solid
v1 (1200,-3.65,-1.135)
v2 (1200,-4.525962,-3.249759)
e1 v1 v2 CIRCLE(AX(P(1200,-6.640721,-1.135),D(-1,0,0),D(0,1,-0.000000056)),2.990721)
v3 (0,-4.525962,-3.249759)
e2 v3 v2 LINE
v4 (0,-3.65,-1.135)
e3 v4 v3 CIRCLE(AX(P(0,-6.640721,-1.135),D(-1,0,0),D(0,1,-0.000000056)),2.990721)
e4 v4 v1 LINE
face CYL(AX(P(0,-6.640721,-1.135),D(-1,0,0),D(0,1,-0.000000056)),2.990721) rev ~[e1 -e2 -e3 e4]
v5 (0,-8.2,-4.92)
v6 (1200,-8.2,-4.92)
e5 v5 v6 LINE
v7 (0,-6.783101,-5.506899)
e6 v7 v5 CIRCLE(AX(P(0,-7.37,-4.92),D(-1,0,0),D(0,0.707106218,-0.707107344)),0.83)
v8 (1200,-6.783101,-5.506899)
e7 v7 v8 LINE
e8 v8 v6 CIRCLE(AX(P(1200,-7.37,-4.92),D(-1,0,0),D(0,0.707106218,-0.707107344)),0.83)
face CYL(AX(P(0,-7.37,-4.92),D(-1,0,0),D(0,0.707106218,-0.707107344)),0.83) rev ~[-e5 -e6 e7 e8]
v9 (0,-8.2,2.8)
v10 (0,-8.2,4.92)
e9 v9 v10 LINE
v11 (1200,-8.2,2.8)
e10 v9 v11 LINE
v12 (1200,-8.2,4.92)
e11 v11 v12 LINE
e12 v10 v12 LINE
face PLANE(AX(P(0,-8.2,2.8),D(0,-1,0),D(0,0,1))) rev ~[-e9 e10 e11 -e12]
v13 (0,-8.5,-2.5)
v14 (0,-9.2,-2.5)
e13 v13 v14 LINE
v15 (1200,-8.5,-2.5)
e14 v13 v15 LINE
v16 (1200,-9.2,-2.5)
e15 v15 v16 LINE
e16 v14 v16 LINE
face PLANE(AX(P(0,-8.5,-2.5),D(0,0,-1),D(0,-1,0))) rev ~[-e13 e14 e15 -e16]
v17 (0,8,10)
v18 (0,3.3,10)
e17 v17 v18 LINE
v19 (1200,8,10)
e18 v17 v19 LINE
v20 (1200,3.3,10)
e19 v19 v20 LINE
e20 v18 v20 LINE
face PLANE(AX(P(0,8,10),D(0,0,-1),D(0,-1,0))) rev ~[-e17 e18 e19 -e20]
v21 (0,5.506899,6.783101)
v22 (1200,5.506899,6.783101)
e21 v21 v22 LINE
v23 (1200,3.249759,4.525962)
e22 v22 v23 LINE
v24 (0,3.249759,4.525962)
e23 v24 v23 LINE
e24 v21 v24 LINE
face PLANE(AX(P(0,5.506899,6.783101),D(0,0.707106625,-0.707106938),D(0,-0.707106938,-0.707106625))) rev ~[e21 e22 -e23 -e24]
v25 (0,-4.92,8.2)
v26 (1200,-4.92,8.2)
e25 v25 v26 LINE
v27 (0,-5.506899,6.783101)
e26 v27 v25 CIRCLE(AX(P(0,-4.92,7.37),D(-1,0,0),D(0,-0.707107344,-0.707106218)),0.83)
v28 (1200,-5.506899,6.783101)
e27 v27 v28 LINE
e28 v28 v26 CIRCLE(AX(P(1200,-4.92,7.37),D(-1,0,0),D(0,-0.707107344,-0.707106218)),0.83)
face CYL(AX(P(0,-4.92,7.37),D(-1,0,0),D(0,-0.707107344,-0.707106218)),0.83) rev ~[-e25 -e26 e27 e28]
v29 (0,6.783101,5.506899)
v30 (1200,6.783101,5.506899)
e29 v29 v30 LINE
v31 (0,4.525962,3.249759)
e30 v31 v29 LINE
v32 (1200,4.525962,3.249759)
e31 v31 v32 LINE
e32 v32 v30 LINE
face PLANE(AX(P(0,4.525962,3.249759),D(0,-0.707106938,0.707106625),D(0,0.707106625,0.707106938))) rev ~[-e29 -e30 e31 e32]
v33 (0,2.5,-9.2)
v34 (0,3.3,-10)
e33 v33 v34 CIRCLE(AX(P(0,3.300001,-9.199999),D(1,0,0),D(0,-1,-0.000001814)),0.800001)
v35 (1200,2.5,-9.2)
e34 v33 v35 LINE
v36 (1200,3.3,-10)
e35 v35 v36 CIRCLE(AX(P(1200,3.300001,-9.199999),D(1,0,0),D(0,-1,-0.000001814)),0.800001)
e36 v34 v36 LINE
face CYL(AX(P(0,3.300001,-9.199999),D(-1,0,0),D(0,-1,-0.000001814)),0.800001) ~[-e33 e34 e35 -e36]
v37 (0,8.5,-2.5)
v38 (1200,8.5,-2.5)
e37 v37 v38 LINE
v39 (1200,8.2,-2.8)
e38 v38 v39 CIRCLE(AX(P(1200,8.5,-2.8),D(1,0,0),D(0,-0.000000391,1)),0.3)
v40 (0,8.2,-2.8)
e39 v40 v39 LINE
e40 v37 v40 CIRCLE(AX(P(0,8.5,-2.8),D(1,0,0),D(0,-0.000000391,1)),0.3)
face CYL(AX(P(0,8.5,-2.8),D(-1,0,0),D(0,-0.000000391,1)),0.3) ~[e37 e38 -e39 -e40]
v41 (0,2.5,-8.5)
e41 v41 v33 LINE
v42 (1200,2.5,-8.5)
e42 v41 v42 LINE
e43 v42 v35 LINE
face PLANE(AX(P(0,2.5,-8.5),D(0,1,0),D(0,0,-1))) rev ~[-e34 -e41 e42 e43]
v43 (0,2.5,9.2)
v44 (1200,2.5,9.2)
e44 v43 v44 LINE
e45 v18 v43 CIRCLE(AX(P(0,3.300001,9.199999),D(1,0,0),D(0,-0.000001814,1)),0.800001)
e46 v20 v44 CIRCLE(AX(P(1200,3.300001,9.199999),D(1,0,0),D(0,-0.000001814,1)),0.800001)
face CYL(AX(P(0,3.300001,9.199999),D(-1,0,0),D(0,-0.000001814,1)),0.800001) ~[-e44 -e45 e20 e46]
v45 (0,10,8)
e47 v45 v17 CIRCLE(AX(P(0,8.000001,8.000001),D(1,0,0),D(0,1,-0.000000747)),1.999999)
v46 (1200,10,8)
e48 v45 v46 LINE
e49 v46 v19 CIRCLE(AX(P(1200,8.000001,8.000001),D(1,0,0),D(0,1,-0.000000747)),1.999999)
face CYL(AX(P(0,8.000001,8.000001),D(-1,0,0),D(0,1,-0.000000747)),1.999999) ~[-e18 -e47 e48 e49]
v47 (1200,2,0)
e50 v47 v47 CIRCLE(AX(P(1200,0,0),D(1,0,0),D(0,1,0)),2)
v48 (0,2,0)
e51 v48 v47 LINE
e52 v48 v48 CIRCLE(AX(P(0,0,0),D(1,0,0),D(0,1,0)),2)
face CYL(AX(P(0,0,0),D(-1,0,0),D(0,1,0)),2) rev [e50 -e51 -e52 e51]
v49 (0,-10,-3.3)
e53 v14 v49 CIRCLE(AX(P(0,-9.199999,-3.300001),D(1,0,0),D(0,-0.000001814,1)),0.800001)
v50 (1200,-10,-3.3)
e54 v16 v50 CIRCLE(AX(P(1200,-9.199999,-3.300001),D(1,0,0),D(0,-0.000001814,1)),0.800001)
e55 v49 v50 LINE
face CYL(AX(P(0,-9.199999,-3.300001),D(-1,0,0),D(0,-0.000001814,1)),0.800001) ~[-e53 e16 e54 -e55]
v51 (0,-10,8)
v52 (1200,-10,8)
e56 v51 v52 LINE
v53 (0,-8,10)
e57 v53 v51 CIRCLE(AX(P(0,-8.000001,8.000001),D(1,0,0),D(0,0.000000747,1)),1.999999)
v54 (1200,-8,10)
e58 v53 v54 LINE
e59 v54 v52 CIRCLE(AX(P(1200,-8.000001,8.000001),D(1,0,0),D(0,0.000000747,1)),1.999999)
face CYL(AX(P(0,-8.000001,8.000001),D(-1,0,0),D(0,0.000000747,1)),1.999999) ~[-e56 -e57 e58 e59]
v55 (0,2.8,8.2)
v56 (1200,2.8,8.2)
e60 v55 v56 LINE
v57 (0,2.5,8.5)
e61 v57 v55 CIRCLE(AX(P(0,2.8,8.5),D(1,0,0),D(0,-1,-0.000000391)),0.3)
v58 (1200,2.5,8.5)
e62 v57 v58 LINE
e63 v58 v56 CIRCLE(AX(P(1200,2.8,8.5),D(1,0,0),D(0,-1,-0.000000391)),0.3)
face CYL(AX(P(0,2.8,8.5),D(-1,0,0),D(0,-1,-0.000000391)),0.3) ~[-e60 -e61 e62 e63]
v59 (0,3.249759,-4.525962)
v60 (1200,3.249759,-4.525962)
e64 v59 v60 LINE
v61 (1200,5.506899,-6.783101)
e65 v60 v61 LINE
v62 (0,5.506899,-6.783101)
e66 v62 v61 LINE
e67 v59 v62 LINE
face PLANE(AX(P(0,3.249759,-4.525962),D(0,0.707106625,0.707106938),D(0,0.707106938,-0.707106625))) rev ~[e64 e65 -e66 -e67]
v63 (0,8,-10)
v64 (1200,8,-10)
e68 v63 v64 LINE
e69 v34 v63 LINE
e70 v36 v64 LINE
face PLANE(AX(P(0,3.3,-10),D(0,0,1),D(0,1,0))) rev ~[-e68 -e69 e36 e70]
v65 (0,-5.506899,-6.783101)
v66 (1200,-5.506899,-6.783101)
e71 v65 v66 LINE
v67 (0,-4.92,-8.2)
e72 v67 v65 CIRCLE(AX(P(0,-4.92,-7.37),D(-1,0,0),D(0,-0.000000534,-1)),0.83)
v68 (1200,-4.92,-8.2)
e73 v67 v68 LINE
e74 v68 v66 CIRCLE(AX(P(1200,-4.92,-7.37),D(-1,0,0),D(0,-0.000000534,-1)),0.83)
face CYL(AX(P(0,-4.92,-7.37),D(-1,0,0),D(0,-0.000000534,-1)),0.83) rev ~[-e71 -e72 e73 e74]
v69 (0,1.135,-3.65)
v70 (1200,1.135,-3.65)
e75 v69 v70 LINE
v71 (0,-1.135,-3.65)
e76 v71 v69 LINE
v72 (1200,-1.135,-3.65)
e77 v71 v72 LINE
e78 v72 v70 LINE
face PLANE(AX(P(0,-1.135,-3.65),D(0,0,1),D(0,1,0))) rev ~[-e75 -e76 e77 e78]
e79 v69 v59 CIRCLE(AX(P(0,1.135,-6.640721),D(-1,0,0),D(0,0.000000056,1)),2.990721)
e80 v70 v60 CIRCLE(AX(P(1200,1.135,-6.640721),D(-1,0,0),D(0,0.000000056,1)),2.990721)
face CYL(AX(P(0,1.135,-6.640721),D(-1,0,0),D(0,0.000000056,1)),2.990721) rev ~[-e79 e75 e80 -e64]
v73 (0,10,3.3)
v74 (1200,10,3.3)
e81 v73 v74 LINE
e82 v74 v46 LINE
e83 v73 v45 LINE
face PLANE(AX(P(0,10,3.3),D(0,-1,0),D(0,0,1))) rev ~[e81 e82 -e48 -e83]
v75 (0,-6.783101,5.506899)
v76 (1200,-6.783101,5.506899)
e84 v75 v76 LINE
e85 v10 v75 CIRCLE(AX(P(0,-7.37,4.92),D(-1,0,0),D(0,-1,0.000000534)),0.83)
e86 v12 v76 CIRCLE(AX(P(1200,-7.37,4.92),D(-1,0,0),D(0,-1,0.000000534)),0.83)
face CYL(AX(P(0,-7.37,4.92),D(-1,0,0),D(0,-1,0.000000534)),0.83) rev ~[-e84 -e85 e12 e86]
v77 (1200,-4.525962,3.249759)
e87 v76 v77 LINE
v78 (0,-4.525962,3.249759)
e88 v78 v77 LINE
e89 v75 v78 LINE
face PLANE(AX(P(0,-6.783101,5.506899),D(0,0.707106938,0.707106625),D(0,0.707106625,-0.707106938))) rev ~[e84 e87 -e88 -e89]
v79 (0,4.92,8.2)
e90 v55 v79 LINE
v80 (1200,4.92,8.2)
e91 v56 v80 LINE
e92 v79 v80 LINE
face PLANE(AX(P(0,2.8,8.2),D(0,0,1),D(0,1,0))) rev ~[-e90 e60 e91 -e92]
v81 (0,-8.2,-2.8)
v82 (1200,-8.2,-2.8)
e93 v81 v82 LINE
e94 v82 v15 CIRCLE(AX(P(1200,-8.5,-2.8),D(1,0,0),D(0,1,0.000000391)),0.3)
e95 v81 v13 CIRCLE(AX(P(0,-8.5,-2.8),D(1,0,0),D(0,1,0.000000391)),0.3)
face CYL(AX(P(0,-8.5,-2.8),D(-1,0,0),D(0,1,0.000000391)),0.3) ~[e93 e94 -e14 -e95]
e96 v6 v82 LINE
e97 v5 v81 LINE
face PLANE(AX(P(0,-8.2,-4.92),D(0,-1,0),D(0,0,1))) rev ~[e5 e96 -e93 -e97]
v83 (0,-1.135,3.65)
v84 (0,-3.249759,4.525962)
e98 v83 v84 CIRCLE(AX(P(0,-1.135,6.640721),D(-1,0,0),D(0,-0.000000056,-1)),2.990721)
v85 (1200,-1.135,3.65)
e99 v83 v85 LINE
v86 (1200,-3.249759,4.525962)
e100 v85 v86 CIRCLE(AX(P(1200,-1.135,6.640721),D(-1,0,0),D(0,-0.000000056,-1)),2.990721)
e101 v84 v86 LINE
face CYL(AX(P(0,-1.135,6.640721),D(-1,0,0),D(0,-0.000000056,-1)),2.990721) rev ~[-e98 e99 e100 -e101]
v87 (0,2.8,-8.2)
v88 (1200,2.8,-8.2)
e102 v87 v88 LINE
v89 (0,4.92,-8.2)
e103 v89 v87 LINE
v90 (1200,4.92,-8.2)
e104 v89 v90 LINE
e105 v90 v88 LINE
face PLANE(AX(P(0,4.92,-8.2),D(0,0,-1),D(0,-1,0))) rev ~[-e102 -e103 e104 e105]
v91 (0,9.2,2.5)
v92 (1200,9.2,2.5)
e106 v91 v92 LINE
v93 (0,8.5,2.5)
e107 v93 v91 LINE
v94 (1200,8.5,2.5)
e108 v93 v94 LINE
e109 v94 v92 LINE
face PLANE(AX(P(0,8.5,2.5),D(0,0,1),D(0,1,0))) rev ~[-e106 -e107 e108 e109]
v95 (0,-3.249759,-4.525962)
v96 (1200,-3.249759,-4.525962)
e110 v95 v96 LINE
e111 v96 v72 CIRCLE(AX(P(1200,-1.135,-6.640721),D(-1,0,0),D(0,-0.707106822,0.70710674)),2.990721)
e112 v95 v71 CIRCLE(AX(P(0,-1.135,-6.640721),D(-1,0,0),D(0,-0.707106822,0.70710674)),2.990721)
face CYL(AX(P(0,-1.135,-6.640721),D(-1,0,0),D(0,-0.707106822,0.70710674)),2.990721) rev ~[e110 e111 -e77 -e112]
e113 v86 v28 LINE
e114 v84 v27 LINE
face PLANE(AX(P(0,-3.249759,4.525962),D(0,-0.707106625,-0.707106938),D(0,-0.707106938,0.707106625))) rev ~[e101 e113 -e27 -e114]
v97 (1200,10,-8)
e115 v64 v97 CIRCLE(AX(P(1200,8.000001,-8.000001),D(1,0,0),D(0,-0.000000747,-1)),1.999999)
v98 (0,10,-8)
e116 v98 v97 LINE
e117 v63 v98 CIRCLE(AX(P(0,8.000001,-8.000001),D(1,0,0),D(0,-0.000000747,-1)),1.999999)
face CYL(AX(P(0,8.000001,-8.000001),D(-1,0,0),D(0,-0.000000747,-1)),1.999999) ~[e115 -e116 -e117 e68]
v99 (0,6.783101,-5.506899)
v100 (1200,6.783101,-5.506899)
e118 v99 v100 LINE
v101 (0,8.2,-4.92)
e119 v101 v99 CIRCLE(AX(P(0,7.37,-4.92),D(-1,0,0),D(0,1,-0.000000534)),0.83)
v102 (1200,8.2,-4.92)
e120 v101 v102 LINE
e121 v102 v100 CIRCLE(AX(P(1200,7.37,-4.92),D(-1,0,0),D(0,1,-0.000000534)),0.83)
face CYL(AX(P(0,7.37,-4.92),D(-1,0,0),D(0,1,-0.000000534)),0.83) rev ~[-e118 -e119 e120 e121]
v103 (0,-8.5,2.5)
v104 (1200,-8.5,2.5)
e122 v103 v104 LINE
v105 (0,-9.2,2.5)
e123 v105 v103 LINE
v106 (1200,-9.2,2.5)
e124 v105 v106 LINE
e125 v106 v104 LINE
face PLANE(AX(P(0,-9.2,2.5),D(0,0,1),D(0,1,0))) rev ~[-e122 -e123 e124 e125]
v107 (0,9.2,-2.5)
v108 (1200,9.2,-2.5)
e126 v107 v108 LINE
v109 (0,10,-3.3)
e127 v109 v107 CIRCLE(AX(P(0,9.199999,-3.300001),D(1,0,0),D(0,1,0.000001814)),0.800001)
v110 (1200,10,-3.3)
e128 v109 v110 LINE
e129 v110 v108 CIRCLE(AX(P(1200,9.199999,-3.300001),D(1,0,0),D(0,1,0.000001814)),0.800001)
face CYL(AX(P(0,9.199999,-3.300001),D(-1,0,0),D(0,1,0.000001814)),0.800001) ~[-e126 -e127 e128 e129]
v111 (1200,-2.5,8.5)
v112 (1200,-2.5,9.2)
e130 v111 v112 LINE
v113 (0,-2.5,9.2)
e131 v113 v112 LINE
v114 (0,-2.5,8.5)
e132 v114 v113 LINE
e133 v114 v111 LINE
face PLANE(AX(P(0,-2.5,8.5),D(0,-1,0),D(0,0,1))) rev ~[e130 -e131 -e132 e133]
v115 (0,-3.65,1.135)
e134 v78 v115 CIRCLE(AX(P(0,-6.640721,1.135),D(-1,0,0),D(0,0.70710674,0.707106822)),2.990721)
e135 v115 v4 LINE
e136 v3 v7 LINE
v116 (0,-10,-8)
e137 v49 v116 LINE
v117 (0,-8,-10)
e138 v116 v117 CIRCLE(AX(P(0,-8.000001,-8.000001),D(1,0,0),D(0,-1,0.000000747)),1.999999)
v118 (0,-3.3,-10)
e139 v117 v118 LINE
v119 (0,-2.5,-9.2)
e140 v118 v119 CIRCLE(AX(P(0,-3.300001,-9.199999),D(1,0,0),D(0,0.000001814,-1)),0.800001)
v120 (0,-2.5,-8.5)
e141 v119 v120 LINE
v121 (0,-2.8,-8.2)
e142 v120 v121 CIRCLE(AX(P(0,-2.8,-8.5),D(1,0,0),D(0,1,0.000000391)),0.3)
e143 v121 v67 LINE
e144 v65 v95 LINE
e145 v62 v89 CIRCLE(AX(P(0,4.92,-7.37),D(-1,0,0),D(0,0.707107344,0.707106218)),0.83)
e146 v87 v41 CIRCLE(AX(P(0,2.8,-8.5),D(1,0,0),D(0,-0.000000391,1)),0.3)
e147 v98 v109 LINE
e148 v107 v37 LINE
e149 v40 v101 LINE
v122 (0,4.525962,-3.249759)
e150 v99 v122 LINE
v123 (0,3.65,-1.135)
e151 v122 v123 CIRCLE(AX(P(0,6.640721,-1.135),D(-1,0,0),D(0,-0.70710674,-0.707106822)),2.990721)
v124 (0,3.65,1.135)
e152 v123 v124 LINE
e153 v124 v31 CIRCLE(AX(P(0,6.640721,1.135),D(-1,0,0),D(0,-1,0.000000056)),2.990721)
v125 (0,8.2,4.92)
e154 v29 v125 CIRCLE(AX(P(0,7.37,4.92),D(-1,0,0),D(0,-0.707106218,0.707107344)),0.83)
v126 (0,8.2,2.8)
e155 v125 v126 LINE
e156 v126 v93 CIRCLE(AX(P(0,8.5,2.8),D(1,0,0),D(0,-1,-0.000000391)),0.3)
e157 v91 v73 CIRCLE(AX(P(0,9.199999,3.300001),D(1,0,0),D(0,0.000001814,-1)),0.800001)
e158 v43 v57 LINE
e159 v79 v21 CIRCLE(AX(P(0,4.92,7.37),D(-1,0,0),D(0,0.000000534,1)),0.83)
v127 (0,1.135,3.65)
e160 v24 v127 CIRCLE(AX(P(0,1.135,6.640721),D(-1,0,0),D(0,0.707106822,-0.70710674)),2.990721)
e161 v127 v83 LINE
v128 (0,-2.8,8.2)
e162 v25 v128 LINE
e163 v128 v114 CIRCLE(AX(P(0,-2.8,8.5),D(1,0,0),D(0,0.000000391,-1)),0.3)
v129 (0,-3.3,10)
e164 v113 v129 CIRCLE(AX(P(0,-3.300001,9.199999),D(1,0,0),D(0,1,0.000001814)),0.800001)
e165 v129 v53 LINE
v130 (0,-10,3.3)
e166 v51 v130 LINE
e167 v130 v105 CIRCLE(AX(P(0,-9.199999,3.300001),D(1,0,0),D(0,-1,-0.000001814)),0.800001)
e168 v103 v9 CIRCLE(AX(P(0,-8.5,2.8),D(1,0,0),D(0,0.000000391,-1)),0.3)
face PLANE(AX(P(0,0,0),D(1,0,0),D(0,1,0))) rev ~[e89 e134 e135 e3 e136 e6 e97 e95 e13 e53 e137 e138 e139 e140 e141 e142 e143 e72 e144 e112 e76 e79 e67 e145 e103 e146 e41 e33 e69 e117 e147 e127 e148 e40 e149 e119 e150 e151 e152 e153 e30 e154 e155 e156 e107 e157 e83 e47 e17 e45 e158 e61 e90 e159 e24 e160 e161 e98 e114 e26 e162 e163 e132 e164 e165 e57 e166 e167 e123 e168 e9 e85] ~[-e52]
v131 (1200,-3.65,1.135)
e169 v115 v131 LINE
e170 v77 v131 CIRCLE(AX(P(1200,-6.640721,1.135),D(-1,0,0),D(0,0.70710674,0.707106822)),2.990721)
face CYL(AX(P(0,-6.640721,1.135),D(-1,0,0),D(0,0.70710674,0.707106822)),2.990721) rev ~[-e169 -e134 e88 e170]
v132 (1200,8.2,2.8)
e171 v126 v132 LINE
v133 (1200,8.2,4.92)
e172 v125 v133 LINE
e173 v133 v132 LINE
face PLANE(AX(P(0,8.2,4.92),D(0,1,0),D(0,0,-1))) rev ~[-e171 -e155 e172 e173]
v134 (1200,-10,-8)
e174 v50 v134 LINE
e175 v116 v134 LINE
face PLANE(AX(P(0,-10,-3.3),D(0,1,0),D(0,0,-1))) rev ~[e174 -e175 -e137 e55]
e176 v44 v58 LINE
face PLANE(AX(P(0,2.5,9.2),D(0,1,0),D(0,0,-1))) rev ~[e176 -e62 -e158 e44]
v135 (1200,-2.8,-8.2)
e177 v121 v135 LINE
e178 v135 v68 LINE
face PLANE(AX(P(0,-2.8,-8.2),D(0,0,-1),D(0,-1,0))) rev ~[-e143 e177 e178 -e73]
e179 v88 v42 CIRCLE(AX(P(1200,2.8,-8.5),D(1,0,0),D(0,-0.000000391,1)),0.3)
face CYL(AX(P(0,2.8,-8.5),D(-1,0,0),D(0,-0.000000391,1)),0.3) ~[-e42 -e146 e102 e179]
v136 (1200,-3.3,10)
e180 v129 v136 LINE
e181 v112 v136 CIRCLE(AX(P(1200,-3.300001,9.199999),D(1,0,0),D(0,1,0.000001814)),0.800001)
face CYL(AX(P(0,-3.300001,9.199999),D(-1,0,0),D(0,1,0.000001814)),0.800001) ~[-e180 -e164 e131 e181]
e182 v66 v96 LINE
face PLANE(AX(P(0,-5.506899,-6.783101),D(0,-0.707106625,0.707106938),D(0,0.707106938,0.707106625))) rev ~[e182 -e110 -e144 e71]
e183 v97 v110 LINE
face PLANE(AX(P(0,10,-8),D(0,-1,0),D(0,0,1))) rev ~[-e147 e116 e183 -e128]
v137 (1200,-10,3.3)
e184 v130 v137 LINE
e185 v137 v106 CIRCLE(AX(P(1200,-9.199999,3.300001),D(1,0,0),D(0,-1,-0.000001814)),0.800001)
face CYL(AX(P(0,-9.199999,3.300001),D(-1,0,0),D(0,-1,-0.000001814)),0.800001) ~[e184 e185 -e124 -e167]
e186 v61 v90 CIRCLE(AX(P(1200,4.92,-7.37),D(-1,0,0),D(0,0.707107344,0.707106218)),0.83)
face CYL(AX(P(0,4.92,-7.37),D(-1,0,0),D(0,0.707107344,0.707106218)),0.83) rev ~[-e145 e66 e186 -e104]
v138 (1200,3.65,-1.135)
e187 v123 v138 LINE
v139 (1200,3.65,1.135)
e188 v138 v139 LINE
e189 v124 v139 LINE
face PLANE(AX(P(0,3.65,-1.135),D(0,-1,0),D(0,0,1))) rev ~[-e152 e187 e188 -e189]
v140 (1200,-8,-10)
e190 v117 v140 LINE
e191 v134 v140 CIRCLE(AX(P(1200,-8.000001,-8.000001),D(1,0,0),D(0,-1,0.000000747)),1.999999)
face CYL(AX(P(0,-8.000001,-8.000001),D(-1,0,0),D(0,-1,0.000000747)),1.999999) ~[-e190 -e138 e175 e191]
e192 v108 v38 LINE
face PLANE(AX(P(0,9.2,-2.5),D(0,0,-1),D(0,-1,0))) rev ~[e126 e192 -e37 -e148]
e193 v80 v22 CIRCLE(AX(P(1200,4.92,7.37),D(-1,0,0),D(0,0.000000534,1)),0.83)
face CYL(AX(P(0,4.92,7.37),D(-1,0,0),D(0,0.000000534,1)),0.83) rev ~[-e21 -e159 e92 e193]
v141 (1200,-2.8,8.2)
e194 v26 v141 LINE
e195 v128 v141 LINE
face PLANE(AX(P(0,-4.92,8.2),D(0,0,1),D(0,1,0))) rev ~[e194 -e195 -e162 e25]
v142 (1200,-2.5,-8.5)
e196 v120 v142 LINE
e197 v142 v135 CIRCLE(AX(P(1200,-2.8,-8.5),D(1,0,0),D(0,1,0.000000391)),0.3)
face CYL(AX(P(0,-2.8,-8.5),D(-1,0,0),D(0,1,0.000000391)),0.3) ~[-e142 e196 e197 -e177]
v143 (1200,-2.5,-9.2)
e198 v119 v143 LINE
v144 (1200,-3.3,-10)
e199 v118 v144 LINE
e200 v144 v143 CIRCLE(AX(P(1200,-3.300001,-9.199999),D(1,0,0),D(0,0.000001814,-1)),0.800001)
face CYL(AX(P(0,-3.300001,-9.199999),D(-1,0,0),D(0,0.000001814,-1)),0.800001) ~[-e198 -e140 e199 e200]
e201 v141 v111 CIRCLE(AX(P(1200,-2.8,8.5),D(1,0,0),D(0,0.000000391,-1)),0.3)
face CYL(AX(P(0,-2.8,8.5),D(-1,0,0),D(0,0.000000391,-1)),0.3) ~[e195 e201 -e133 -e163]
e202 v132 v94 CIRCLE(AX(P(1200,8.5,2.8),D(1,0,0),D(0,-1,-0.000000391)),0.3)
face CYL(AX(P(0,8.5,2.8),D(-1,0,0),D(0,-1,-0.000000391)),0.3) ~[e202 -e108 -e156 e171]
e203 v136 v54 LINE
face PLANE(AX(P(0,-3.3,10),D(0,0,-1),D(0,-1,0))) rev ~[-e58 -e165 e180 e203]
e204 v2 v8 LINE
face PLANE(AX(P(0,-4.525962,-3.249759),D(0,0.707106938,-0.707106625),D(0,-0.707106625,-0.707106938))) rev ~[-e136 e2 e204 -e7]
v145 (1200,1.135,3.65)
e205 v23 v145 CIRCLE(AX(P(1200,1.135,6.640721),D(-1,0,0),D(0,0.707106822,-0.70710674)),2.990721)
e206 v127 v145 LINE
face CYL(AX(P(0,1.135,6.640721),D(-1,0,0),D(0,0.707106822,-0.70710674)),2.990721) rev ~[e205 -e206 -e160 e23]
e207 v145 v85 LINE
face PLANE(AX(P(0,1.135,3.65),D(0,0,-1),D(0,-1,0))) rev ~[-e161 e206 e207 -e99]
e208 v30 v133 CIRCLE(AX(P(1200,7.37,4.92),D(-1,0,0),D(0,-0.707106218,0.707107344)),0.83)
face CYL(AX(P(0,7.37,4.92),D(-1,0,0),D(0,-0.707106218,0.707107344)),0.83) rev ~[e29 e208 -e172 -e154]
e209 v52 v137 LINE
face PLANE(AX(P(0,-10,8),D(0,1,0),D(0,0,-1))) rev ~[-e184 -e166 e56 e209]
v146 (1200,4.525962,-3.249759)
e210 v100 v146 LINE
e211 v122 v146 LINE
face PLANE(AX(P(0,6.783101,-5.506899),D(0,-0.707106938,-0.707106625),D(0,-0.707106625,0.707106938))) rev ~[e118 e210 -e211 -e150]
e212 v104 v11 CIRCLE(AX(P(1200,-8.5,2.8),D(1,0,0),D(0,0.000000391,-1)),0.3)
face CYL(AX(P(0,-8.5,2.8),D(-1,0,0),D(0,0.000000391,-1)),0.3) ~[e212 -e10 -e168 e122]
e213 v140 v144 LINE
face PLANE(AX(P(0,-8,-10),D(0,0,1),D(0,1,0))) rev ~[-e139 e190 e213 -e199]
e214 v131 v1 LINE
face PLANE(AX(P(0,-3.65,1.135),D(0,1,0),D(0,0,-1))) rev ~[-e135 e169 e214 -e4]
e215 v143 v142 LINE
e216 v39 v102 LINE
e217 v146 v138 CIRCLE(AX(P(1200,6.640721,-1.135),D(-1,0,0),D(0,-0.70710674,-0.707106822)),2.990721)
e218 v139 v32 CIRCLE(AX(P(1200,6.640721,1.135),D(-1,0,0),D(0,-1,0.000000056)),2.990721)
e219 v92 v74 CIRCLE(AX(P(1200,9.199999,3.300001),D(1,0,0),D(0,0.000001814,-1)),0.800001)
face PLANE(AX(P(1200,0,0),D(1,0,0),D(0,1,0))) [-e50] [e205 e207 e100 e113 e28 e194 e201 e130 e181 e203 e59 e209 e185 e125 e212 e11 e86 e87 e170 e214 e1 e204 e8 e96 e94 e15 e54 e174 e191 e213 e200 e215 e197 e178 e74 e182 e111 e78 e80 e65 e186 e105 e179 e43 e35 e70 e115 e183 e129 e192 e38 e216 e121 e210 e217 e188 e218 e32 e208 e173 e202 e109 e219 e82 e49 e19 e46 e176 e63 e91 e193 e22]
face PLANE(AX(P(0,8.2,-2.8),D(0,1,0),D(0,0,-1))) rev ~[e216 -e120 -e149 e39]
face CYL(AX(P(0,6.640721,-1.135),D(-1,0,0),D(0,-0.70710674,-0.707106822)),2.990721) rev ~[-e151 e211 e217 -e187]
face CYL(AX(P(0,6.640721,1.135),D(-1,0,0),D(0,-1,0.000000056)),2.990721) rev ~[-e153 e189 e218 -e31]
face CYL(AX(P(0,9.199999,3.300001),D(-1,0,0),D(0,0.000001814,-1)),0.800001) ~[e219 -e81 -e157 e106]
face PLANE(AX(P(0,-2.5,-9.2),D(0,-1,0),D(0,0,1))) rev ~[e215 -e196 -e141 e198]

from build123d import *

# Parameters (mm, degrees)
F0_R     = 2
F1_DEPTH = 1200


with BuildPart() as f1:
    # F0 (on Right) → F1 (new body)
    with BuildSketch(Plane.YZ):
        with BuildLine():
            Line((-3.3, 10), (-8, 10))
            ThreePointArc((-8, 10), (-9.414214, 9.414214), (-10, 8))
            Line((-10, 8), (-10, 3.3))
            ThreePointArc((-10, 3.3), (-9.765685, 2.734315), (-9.2, 2.5))
            Line((-9.2, 2.5), (-8.5, 2.5))
            ThreePointArc((-8.5, 2.5), (-8.287868, 2.587868), (-8.2, 2.8))
            Line((-8.2, 2.8), (-8.2, 4.92))
            ThreePointArc((-8.2, 4.92), (-7.687627, 5.68682), (-6.783101, 5.506899))
            Line((-6.783101, 5.506899), (-4.525962, 3.249759))
            ThreePointArc((-4.525962, 3.249759), (-3.877655, 2.279499), (-3.65, 1.135))
            Line((-3.65, 1.135), (-3.65, -1.135))
            ThreePointArc((-3.65, -1.135), (-3.877655, -2.279499), (-4.525962, -3.249759))
            Line((-4.525962, -3.249759), (-6.783101, -5.506899))
            ThreePointArc((-6.783101, -5.506899), (-7.687627, -5.68682), (-8.2, -4.92))
            Line((-8.2, -4.92), (-8.2, -2.8))
            ThreePointArc((-8.2, -2.8), (-8.287868, -2.587868), (-8.5, -2.5))
            Line((-8.5, -2.5), (-9.2, -2.5))
            ThreePointArc((-9.2, -2.5), (-9.765685, -2.734315), (-10, -3.3))
            Line((-10, -3.3), (-10, -8))
            ThreePointArc((-10, -8), (-9.414214, -9.414214), (-8, -10))
            Line((-8, -10), (-3.3, -10))
            ThreePointArc((-3.3, -10), (-2.734315, -9.765685), (-2.5, -9.2))
            Line((-2.5, -9.2), (-2.5, -8.5))
            ThreePointArc((-2.5, -8.5), (-2.587868, -8.287868), (-2.8, -8.2))
            Line((-2.8, -8.2), (-4.92, -8.2))
            ThreePointArc((-4.92, -8.2), (-5.68682, -7.687627), (-5.506899, -6.783101))
            Line((-5.506899, -6.783101), (-3.249759, -4.525962))
            ThreePointArc((-3.249759, -4.525962), (-2.279499, -3.877655), (-1.135, -3.65))
            Line((-1.135, -3.65), (1.135, -3.65))
            ThreePointArc((1.135, -3.65), (2.279499, -3.877655), (3.249759, -4.525962))
            Line((3.249759, -4.525962), (5.506899, -6.783101))
            ThreePointArc((5.506899, -6.783101), (5.68682, -7.687627), (4.92, -8.2))
            Line((4.92, -8.2), (2.8, -8.2))
            ThreePointArc((2.8, -8.2), (2.587868, -8.287868), (2.5, -8.5))
            Line((2.5, -8.5), (2.5, -9.2))
            ThreePointArc((2.5, -9.2), (2.734315, -9.765685), (3.3, -10))
            Line((3.3, -10), (8, -10))
            ThreePointArc((8, -10), (9.414214, -9.414214), (10, -8))
            Line((10, -8), (10, -3.3))
            ThreePointArc((10, -3.3), (9.765685, -2.734315), (9.2, -2.5))
            Line((9.2, -2.5), (8.5, -2.5))
            ThreePointArc((8.5, -2.5), (8.287868, -2.587868), (8.2, -2.8))
            Line((8.2, -2.8), (8.2, -4.92))
            ThreePointArc((8.2, -4.92), (7.687627, -5.68682), (6.783101, -5.506899))
            Line((6.783101, -5.506899), (4.525962, -3.249759))
            ThreePointArc((4.525962, -3.249759), (3.877655, -2.279499), (3.65, -1.135))
            Line((3.65, -1.135), (3.65, 1.135))
            ThreePointArc((3.65, 1.135), (3.877655, 2.279499), (4.525962, 3.249759))
            Line((4.525962, 3.249759), (6.783101, 5.506899))
            ThreePointArc((6.783101, 5.506899), (7.687627, 5.68682), (8.2, 4.92))
            Line((8.2, 4.92), (8.2, 2.8))
            ThreePointArc((8.2, 2.8), (8.287868, 2.587868), (8.5, 2.5))
            Line((8.5, 2.5), (9.2, 2.5))
            ThreePointArc((9.2, 2.5), (9.765685, 2.734315), (10, 3.3))
            Line((10, 3.3), (10, 8))
            ThreePointArc((10, 8), (9.414214, 9.414214), (8, 10))
            Line((8, 10), (3.3, 10))
            ThreePointArc((3.3, 10), (2.734315, 9.765685), (2.5, 9.2))
            Line((2.5, 9.2), (2.5, 8.5))
            ThreePointArc((2.5, 8.5), (2.587868, 8.287868), (2.8, 8.2))
            Line((2.8, 8.2), (4.92, 8.2))
            ThreePointArc((4.92, 8.2), (5.68682, 7.687627), (5.506899, 6.783101))
            Line((5.506899, 6.783101), (3.249759, 4.525962))
            ThreePointArc((3.249759, 4.525962), (2.279499, 3.877655), (1.135, 3.65))
            Line((1.135, 3.65), (-1.135, 3.65))
            ThreePointArc((-1.135, 3.65), (-2.279499, 3.877655), (-3.249759, 4.525962))
            Line((-3.249759, 4.525962), (-5.506899, 6.783101))
            ThreePointArc((-5.506899, 6.783101), (-5.68682, 7.687627), (-4.92, 8.2))
            Line((-4.92, 8.2), (-2.8, 8.2))
            ThreePointArc((-2.8, 8.2), (-2.587868, 8.287868), (-2.5, 8.5))
            Line((-2.5, 8.5), (-2.5, 9.2))
            ThreePointArc((-2.5, 9.2), (-2.734315, 9.765685), (-3.3, 10))
        make_face()
        Circle(F0_R, mode=Mode.SUBTRACT)
    extrude(amount=F1_DEPTH)


solid = f1.part
